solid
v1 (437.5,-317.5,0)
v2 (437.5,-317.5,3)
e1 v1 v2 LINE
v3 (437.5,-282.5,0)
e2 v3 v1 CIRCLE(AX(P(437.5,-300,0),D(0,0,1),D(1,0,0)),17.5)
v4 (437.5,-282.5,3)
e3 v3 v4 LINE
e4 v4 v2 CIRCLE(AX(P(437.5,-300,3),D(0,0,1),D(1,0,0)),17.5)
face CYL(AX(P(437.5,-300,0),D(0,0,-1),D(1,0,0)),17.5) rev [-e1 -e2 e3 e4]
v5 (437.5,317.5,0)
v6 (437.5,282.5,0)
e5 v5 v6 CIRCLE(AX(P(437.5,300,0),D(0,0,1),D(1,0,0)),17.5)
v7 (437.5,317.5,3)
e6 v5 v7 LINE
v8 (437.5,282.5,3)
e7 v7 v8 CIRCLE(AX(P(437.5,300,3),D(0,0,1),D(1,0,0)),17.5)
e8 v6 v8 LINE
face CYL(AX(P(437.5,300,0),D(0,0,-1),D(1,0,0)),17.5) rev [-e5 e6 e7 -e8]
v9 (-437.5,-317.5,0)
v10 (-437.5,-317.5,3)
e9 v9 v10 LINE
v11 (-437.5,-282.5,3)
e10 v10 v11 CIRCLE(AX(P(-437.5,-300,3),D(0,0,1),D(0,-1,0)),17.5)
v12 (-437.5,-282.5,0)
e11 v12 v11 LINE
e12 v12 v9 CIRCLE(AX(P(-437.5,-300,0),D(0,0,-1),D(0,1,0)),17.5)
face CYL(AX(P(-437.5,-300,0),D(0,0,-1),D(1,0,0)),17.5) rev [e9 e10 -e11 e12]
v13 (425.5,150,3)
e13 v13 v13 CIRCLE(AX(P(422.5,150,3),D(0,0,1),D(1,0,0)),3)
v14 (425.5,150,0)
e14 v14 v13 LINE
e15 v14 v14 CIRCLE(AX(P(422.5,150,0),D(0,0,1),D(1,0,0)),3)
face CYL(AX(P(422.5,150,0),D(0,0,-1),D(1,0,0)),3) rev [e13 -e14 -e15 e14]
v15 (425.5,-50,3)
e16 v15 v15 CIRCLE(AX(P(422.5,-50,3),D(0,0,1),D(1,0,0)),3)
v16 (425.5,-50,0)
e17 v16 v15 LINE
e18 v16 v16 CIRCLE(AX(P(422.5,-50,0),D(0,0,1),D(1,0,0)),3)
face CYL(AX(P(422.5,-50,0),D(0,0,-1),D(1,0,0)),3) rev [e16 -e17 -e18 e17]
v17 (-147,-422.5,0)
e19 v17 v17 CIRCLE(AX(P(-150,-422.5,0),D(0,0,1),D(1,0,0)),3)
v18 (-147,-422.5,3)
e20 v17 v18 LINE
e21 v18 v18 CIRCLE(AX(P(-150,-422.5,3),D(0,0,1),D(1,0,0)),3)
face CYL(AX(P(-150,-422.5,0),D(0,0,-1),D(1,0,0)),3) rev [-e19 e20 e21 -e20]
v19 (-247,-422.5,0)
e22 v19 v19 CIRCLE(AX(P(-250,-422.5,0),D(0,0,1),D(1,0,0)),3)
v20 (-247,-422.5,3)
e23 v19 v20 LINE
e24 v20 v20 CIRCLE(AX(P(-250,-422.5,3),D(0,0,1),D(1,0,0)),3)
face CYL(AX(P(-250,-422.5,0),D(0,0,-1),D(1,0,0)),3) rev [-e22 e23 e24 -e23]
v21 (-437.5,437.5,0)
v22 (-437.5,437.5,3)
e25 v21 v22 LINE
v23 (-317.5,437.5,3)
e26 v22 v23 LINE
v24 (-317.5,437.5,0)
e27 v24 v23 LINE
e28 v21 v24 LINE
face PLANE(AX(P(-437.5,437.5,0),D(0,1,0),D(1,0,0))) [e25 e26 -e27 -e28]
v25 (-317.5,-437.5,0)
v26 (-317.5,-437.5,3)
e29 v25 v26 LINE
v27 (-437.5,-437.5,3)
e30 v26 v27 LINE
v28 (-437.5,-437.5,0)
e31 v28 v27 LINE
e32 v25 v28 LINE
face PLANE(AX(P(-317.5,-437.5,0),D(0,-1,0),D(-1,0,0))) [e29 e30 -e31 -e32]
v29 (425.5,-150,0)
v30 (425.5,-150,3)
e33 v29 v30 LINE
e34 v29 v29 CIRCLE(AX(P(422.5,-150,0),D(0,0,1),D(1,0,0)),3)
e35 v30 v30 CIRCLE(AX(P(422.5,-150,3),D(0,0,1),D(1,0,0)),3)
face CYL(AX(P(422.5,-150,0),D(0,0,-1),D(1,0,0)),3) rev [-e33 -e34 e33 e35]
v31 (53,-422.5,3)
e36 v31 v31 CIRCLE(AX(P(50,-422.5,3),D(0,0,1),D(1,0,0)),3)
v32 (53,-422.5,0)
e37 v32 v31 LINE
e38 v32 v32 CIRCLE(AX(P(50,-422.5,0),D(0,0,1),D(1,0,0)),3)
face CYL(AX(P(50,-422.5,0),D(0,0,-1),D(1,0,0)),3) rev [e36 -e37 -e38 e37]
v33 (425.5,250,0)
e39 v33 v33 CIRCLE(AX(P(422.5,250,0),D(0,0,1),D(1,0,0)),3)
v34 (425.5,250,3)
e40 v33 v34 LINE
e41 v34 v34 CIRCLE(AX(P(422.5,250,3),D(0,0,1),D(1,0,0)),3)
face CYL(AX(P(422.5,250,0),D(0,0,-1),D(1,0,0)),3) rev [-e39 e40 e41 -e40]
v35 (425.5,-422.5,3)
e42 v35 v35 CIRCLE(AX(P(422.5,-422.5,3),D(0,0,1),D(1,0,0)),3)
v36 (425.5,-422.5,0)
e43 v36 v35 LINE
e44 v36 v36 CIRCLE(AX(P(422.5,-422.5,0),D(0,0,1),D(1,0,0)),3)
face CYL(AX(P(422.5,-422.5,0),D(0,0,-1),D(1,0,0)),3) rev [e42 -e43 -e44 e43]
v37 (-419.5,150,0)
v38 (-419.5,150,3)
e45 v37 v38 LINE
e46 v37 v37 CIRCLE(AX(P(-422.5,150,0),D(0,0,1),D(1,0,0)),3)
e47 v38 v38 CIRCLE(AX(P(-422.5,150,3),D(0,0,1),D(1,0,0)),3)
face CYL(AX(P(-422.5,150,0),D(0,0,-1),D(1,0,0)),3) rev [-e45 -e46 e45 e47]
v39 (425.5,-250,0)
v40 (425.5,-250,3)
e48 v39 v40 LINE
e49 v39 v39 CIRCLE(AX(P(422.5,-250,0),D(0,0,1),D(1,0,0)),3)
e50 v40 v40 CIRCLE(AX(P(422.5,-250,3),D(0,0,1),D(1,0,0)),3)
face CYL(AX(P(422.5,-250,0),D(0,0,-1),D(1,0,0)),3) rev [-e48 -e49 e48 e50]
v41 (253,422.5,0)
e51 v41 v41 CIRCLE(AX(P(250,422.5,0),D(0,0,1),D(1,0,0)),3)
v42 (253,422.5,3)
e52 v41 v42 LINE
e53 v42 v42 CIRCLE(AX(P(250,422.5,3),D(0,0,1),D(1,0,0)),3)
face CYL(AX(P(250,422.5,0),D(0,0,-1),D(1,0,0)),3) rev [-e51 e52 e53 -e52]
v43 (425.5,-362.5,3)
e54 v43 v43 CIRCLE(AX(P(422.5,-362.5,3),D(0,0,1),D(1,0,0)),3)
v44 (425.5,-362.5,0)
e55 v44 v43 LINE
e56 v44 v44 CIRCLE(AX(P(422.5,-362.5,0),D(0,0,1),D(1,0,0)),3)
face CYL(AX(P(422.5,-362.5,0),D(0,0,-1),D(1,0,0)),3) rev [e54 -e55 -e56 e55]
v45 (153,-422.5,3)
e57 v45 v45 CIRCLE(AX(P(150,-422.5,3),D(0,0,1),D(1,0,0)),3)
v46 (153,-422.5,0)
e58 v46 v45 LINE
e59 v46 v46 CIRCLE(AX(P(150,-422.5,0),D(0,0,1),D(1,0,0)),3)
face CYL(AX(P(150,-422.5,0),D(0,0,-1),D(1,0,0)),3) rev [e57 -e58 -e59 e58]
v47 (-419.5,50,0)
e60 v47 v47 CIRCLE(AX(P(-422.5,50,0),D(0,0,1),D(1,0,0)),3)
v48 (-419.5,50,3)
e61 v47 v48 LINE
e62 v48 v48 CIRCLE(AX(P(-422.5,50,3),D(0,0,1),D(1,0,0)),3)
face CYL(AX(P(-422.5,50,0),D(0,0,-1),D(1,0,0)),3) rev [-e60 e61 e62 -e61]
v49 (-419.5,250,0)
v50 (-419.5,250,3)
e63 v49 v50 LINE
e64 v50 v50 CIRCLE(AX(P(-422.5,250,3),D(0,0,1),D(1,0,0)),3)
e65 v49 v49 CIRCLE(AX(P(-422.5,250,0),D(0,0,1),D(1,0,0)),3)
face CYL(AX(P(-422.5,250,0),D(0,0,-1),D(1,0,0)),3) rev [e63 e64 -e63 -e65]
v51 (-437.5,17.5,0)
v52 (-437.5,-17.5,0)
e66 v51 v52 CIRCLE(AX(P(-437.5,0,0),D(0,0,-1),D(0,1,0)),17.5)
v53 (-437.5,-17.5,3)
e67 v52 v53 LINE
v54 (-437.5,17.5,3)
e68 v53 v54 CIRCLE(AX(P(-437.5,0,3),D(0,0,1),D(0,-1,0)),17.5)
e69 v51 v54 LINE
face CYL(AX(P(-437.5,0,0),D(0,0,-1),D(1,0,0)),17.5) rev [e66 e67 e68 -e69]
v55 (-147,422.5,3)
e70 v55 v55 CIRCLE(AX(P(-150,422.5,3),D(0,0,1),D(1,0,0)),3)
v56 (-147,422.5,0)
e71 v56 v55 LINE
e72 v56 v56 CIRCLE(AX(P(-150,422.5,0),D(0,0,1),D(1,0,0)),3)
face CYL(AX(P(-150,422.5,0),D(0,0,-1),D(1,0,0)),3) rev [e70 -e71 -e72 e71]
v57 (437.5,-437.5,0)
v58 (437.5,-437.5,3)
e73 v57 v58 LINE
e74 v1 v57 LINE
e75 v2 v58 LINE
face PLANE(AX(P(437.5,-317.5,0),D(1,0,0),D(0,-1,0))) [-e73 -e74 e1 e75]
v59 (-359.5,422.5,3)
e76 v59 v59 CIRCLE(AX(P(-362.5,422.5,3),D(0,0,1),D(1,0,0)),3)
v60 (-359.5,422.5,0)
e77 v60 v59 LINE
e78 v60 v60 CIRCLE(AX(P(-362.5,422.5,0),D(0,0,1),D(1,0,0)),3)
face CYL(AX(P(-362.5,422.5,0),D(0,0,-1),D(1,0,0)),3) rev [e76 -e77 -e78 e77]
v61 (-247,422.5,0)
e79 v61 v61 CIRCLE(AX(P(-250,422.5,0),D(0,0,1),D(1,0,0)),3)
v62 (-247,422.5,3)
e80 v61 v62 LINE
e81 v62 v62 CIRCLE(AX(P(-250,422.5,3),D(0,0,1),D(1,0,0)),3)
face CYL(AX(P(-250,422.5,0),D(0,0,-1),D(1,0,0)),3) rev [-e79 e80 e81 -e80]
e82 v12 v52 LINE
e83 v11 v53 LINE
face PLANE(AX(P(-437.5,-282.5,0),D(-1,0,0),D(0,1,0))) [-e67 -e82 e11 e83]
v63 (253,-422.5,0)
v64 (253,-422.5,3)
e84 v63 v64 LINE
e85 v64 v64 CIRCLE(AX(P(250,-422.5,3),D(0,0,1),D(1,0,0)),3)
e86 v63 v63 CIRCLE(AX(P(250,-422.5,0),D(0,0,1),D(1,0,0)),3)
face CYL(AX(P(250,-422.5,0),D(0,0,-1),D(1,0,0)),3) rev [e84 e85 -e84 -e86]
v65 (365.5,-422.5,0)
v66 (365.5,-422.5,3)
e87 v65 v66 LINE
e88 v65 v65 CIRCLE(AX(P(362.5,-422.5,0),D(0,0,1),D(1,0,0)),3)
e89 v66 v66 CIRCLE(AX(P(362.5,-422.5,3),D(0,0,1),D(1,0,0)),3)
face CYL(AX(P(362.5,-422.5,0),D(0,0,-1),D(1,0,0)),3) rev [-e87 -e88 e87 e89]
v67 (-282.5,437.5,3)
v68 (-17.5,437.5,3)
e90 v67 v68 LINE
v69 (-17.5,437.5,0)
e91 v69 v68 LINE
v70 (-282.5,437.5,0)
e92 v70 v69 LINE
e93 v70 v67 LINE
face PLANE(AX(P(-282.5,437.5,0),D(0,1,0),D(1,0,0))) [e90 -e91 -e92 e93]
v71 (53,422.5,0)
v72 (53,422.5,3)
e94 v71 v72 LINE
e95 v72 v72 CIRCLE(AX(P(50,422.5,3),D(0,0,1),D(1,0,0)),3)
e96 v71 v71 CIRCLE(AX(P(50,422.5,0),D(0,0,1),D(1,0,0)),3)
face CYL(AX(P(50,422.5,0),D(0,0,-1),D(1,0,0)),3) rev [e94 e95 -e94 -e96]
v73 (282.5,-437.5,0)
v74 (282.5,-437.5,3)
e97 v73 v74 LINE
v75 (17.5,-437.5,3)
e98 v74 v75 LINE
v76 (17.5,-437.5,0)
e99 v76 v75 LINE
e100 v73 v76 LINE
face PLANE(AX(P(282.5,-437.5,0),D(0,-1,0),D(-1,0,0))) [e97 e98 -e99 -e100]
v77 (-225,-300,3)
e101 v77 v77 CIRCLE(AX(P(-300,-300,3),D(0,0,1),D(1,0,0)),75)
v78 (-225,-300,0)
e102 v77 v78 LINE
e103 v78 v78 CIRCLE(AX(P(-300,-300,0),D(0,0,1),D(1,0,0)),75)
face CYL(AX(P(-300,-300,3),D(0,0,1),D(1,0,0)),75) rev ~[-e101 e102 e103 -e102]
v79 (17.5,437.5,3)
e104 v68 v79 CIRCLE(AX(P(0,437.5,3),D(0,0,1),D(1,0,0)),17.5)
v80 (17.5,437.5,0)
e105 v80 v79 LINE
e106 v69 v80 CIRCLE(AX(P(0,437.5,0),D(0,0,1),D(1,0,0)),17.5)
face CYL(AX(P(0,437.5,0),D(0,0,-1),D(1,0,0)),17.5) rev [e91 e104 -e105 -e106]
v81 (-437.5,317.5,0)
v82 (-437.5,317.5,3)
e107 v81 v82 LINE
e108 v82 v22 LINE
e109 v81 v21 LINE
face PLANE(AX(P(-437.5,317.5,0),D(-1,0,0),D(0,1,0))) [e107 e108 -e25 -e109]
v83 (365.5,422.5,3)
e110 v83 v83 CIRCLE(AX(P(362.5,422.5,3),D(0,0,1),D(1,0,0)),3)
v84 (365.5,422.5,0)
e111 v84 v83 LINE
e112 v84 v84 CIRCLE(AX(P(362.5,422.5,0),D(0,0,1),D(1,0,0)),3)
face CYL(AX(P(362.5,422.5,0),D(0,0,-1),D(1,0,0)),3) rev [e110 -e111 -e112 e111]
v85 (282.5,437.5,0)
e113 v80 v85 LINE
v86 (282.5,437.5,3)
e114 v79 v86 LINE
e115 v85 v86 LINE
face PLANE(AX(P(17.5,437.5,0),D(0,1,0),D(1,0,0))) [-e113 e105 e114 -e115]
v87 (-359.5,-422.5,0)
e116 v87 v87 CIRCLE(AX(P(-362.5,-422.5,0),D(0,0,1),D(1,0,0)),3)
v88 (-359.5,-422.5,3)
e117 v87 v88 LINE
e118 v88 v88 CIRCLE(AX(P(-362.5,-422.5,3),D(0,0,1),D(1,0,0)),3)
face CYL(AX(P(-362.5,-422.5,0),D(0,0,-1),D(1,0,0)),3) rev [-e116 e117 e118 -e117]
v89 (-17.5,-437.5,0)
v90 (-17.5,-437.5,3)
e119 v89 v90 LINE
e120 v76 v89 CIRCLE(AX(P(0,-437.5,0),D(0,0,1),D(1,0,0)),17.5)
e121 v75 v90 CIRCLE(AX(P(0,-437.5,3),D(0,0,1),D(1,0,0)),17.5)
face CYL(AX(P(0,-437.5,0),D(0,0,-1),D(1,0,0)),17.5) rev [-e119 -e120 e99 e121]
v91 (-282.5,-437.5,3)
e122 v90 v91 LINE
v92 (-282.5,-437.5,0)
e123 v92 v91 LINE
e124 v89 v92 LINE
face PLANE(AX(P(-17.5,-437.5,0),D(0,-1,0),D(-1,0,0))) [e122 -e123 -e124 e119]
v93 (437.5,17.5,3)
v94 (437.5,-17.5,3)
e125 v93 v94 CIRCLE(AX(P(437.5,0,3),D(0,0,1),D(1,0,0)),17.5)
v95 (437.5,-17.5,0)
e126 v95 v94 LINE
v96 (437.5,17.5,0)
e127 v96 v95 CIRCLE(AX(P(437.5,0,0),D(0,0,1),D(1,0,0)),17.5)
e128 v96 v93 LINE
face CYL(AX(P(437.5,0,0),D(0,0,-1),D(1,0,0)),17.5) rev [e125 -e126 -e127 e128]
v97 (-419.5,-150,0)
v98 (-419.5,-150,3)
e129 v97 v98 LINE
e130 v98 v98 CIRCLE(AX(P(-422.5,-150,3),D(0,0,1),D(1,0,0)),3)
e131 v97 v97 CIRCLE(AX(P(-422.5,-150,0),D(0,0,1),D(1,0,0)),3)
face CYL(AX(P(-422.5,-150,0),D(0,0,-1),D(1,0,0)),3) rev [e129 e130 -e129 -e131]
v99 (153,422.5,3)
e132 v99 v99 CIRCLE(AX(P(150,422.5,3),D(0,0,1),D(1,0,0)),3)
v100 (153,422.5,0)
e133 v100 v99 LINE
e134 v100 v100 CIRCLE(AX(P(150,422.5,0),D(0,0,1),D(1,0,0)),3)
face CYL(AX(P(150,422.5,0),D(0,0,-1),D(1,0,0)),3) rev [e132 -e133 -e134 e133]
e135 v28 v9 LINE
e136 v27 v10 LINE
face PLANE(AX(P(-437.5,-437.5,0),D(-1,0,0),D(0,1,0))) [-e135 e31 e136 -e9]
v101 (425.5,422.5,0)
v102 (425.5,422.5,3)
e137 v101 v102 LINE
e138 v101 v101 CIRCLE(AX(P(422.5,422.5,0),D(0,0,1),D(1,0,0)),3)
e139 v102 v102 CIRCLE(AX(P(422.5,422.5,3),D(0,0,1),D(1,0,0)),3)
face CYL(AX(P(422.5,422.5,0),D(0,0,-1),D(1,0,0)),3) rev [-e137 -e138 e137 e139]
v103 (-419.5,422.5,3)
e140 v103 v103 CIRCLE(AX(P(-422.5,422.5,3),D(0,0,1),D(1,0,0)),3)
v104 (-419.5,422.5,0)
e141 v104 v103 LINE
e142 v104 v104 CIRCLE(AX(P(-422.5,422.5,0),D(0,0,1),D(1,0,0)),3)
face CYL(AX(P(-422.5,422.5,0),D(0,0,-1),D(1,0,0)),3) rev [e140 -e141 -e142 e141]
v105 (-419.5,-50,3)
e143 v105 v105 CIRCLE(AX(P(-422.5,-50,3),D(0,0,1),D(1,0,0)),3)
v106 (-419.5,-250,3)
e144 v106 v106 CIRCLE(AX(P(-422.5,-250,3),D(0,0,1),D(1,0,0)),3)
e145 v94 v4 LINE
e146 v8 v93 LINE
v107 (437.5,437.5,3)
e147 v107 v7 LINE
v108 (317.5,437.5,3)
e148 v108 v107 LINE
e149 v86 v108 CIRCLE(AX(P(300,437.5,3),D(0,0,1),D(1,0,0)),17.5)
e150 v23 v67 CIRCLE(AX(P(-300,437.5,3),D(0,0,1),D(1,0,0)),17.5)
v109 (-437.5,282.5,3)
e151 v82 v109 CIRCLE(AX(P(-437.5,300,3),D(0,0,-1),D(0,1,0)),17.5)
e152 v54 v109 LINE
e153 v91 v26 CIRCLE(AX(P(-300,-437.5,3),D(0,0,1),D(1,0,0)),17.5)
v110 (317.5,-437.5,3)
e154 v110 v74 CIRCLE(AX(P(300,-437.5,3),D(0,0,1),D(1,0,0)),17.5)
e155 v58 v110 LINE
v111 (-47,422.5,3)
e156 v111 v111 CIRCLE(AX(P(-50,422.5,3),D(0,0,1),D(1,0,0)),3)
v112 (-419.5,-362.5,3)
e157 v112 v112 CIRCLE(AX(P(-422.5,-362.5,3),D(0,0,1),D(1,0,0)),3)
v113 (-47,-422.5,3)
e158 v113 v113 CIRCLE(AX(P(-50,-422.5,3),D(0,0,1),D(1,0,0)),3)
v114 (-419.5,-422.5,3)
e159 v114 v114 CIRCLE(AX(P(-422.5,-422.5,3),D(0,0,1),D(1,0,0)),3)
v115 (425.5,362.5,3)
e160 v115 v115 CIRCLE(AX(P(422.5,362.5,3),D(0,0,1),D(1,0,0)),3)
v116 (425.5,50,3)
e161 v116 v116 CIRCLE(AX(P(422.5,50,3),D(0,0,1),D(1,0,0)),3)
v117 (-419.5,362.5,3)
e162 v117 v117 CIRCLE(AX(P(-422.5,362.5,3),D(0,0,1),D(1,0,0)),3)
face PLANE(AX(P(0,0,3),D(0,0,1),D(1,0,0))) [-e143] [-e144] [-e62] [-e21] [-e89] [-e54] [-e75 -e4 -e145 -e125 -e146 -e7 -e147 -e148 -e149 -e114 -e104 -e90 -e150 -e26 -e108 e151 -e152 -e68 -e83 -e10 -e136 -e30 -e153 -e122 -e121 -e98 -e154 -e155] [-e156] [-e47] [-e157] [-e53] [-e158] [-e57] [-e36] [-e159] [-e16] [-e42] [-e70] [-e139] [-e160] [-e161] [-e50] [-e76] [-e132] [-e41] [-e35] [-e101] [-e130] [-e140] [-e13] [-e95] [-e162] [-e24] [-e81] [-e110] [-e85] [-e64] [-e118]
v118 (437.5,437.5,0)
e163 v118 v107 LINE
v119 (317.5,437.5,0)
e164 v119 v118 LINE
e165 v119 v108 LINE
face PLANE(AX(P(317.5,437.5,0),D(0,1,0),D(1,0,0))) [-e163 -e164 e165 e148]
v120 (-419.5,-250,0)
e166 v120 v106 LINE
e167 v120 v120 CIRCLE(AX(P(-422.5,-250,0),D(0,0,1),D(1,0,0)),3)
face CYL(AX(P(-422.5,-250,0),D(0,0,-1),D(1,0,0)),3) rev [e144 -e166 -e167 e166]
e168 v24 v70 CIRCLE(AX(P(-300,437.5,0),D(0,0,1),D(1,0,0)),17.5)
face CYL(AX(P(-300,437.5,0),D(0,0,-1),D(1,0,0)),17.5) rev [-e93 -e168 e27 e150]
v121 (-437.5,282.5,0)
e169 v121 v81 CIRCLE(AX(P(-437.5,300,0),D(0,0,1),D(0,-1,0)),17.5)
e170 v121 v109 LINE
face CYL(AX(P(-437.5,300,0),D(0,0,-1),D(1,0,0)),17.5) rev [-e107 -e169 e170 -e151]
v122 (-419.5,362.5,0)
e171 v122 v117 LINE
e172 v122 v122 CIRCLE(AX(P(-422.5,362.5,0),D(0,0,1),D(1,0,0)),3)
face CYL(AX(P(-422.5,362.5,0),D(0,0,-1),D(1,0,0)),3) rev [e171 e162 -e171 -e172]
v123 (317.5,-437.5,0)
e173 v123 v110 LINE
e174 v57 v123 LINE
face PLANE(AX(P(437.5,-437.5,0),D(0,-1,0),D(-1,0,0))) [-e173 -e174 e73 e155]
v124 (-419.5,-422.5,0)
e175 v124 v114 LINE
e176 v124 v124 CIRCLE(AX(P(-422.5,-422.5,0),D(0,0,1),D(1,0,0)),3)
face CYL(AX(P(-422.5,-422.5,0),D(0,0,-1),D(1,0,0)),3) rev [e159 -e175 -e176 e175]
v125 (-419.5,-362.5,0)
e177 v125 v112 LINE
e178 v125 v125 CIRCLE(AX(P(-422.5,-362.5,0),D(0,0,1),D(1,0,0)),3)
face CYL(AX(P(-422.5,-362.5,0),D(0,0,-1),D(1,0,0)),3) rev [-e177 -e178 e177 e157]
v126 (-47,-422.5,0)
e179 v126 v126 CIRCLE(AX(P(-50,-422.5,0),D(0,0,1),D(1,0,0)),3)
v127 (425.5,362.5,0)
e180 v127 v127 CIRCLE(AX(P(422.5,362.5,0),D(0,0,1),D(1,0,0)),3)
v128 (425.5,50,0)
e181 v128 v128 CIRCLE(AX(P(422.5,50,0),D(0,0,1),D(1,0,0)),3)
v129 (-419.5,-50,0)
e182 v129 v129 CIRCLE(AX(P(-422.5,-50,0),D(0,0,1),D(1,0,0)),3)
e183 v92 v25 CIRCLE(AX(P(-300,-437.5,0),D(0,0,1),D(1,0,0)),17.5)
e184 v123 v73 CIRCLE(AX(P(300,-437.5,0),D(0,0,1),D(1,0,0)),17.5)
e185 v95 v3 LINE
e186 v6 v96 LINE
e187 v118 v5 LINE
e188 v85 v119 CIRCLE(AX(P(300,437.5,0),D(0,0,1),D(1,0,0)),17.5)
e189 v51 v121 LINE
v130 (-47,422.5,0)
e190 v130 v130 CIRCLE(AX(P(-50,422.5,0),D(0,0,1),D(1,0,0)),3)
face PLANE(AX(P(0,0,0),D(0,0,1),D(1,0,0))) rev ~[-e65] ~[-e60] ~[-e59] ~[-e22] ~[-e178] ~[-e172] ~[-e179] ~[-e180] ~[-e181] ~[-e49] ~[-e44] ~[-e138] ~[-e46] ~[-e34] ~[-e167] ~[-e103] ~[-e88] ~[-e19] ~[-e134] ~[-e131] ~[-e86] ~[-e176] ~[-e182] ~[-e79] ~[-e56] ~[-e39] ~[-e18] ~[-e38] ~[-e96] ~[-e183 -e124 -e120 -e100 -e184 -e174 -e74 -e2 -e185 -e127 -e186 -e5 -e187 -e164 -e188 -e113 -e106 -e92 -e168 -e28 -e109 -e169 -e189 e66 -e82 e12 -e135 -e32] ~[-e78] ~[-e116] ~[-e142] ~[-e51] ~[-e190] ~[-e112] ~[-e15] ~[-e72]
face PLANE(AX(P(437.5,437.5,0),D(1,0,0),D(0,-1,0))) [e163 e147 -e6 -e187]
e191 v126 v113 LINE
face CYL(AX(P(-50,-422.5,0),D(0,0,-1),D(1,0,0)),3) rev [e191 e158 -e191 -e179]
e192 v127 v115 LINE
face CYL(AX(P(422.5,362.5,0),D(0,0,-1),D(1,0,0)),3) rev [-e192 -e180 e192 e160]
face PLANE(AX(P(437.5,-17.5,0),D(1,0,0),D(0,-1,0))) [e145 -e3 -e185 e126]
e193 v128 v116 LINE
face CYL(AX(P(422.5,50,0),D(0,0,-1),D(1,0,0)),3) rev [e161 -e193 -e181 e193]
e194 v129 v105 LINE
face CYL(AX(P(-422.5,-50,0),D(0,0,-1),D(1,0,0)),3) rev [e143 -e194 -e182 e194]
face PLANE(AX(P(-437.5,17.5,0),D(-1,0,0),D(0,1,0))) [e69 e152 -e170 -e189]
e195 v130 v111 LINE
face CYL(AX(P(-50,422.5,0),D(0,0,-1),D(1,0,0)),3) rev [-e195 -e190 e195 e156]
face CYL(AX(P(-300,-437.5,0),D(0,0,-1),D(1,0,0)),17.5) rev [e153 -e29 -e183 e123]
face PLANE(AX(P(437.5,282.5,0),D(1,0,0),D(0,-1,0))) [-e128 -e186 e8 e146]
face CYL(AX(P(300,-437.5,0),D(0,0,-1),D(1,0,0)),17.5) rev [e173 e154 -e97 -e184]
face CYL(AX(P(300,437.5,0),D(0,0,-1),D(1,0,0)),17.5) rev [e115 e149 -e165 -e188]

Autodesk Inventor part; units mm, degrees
ref_plane "YZ Plane" through (0, 0, 0) normal (1, 0, 0) x (0, 1, 0)
ref_plane "XZ Plane" through (0, 0, 0) normal (0, 1, 0) x (-1, 0, 0)
ref_plane "XY Plane" through (0, 0, 0) normal (0, 0, 1) x (1, 0, 0)
ref_plane "Płaszczyzna konstrukcyjna1" through (0, 0, 0) normal (0, 0, 1) x (1, 0, 0)
sketch "Szkic1" plane through (0, 0, 0) normal (0, 0, 1) x (1, 0, 0)
  circle A0 centre (-437.5, -300) radius 4 projected
  circle A1 centre (-437.5, 300) radius 4 projected
  circle A2 centre (-300, 437.5) radius 4 projected
  circle A3 centre (300, 437.5) radius 4 projected
  circle A4 centre (437.5, 300) radius 4 projected
  circle A5 centre (437.5, -300) radius 4 projected
  circle A6 centre (-437.5, 0) radius 4 projected
  circle A7 centre (0, 437.5) radius 4 projected
  circle A8 centre (437.5, 0) radius 4 projected
  circle A9 centre (300, -437.5) radius 4 projected
  circle A10 centre (-300, -437.5) radius 4 projected
  circle A11 centre (0, -437.5) radius 4 projected
  line L0 (398.5, -398.5) -> (398.5, 398.5) projected
  line L1 (-398.5, -398.5) -> (398.5, -398.5) projected
  line L2 (-398.5, 398.5) -> (-398.5, -398.5) projected
  line L3 (398.5, 398.5) -> (-398.5, 398.5) projected
  line L4 (-457.5, -457.5) -> (-457.5, 457.5) projected
  line L5 (457.5, -457.5) -> (-457.5, -457.5) projected
  line L6 (457.5, 457.5) -> (457.5, -457.5) projected
  line L7 (-457.5, 457.5) -> (457.5, 457.5) projected
  line L8 (437.5, -437.5) -> (-437.5, -437.5)
  line L9 (-437.5, -437.5) -> (-437.5, 437.5)
  line L10 (-437.5, 437.5) -> (437.5, 437.5)
  line L11 (437.5, 437.5) -> (437.5, -437.5)
  line L12 (437.5, -437.5) -> (-437.5, 437.5) construction
  line L13 (-437.5, -437.5) -> (437.5, 437.5) construction
  circle A12 centre (-437.5, 300) radius 17.5
  circle A13 centre (-437.5, 0) radius 17.5
  circle A14 centre (-437.5, -300) radius 17.5
  circle A15 centre (-422.5, 422.5) radius 3
  circle A16 centre (-422.5, 362.5) radius 3
  circle A17 centre (-422.5, 250) radius 3
  circle A18 centre (-422.5, 150) radius 3
  circle A19 centre (-422.5, 50) radius 3
  line L14 (-437.5, 0) -> (437.5, 0) construction
  circle A20 centre (-422.5, -362.5) radius 3
  circle A21 centre (-422.5, -250) radius 3
  circle A22 centre (-422.5, -150) radius 3
  circle A23 centre (-422.5, -50) radius 3
  circle A24 centre (0, -437.5) radius 17.5
  circle A25 centre (-50, -422.5) radius 3
  circle A26 centre (-250, -422.5) radius 3
  line L15 (437.5, -437.5) -> (-437.5, -437.5)
  line L16 (0, -437.5) -> (0, 437.5) construction
  line L17 (437.5, 437.5) -> (-437.5, -437.5) construction
  circle A27 centre (50, -422.5) radius 3
  circle A28 centre (-150, -422.5) radius 3
  circle A29 centre (-422.5, -422.5) radius 3
  circle A30 centre (250, -422.5) radius 3
  circle A31 centre (362.5, -422.5) radius 3
  circle A32 centre (-362.5, -422.5) radius 3
  circle A33 centre (-300, -437.5) radius 17.5
  circle A34 centre (300, -437.5) radius 17.5
  circle A35 centre (150, -422.5) radius 3
  circle A36 centre (437.5, 0) radius 17.5
  circle A37 centre (422.5, -50) radius 3
  circle A38 centre (422.5, -250) radius 3
  line L18 (437.5, 437.5) -> (437.5, -437.5)
  line L19 (437.5, 0) -> (-437.5, 0) construction
  line L20 (-437.5, 437.5) -> (437.5, -437.5) construction
  circle A39 centre (422.5, 50) radius 3
  circle A40 centre (422.5, -150) radius 3
  circle A41 centre (422.5, -422.5) radius 3
  circle A42 centre (422.5, 250) radius 3
  circle A43 centre (422.5, 362.5) radius 3
  circle A44 centre (422.5, -362.5) radius 3
  circle A45 centre (437.5, -300) radius 17.5
  circle A46 centre (437.5, 300) radius 17.5
  circle A47 centre (422.5, 150) radius 3
  circle A48 centre (0, 437.5) radius 17.5
  circle A49 centre (50, 422.5) radius 3
  circle A50 centre (250, 422.5) radius 3
  line L21 (-437.5, 437.5) -> (437.5, 437.5)
  line L22 (0, 437.5) -> (0, -437.5) construction
  line L23 (-437.5, -437.5) -> (437.5, 437.5) construction
  circle A51 centre (-50, 422.5) radius 3
  circle A52 centre (150, 422.5) radius 3
  circle A53 centre (422.5, 422.5) radius 3
  circle A54 centre (-250, 422.5) radius 3
  circle A55 centre (-362.5, 422.5) radius 3
  circle A56 centre (362.5, 422.5) radius 3
  circle A57 centre (300, 437.5) radius 17.5
  circle A58 centre (-300, 437.5) radius 17.5
  circle A59 centre (-150, 422.5) radius 3
  circle A60 centre (-362.5, 422.5) radius 3 projected
  circle A61 centre (50, 422.5) radius 3 projected
  circle A62 centre (422.5, 422.5) radius 3 projected
  circle A63 centre (422.5, 50) radius 3 projected
  circle A64 centre (422.5, -362.5) radius 3 projected
  circle A65 centre (150, -422.5) radius 3 projected
  circle A66 centre (-250, -422.5) radius 3 projected
  circle A67 centre (-422.5, -250) radius 3 projected
  circle A68 centre (-422.5, 150) radius 3 projected
  circle A69 centre (-422.5, 50) radius 3 projected
  circle A70 centre (-422.5, -362.5) radius 3 projected
  circle A71 centre (-150, -422.5) radius 3 projected
  circle A72 centre (250, -422.5) radius 3 projected
  circle A73 centre (422.5, -250) radius 3 projected
  circle A74 centre (422.5, 150) radius 3 projected
  circle A75 centre (362.5, 422.5) radius 3 projected
  circle A76 centre (-50, 422.5) radius 3 projected
  circle A77 centre (-422.5, 422.5) radius 3 projected
  circle A78 centre (-250, 422.5) radius 3 projected
  circle A79 centre (150, 422.5) radius 3 projected
  circle A80 centre (422.5, 362.5) radius 3 projected
  circle A81 centre (422.5, -50) radius 3 projected
  circle A82 centre (422.5, -422.5) radius 3 projected
  circle A83 centre (50, -422.5) radius 3 projected
  circle A84 centre (-362.5, -422.5) radius 3 projected
  circle A85 centre (-422.5, -150) radius 3 projected
  circle A86 centre (-422.5, 250) radius 3 projected
  circle A87 centre (-422.5, -50) radius 3 projected
  circle A88 centre (-422.5, -422.5) radius 3 projected
  circle A89 centre (-50, -422.5) radius 3 projected
  circle A90 centre (362.5, -422.5) radius 3 projected
  circle A91 centre (422.5, -150) radius 3 projected
  circle A92 centre (422.5, 250) radius 3 projected
  circle A93 centre (250, 422.5) radius 3 projected
  circle A94 centre (-150, 422.5) radius 3 projected
  circle A95 centre (-422.5, 362.5) radius 3 projected
  point P0 (0, 0)
  point P1 (0, 0)
  point P2 (0, 0)
  point P3 (0, 0)
  point P4 (-282.5, 437.5)
  point P5 (-317.5, 437.5)
  point P6 (-437.5, 317.5)
  point P7 (-437.5, 282.5)
  point P8 (-437.5, 17.5)
  point P9 (-437.5, -17.5)
  point P10 (-437.5, -282.5)
  point P11 (-437.5, -317.5)
  point P12 (-317.5, -437.5)
  point P13 (-282.5, -437.5)
  point P14 (-17.5, -437.5)
  point P15 (17.5, -437.5)
  point P16 (282.5, -437.5)
  point P17 (317.5, -437.5)
  point P18 (437.5, -317.5)
  point P19 (437.5, -282.5)
  point P20 (437.5, -17.5)
  point P21 (437.5, 17.5)
  point P22 (437.5, 282.5)
  point P23 (437.5, 317.5)
  point P24 (317.5, 437.5)
  point P25 (282.5, 437.5)
  point P26 (17.5, 437.5)
  point P27 (-17.5, 437.5)
  dimension "d0" = 875
  dimension "d1" = 35
  dimension "d4" = 300
  dimension "d9" = 6
  dimension "d10" = 15
  dimension "d11" = 6
  dimension "d12" = 15
  dimension "d13" = 60
  dimension "d14" = 6
  dimension "d15" = 6
  dimension "d16" = 6
  dimension "d17" = 100
  dimension "d18" = 100
  dimension "d19" = 15
  dimension "d20" = 15
  dimension "d21" = 15
  dimension "d22" = 50
  dimension "d25" = 360
extrude "Wyciągnięcie proste1" add sketch "Szkic1" along normal blind 3 contours L9 A13 A12 L10 A58 A48 A57 L11 A46 A36 A45 L8 A34 A24 A33 A14 | L1 L2 L3 L0
sketch "Szkic2" plane through (0, 0, 3) normal (0, 0, 1) x (1, 0, 0)
  circle A0 centre (-300, -300) radius 75
  point P0 (0, 0)
  dimension "d29" = 150
  dimension "d30" = 300
  dimension "d31" = 300
extrude "Wyciągnięcie proste2" cut sketch "Szkic2" against normal blind 3
properties part number "glas" material "Tworzywo, przezroczyste"
